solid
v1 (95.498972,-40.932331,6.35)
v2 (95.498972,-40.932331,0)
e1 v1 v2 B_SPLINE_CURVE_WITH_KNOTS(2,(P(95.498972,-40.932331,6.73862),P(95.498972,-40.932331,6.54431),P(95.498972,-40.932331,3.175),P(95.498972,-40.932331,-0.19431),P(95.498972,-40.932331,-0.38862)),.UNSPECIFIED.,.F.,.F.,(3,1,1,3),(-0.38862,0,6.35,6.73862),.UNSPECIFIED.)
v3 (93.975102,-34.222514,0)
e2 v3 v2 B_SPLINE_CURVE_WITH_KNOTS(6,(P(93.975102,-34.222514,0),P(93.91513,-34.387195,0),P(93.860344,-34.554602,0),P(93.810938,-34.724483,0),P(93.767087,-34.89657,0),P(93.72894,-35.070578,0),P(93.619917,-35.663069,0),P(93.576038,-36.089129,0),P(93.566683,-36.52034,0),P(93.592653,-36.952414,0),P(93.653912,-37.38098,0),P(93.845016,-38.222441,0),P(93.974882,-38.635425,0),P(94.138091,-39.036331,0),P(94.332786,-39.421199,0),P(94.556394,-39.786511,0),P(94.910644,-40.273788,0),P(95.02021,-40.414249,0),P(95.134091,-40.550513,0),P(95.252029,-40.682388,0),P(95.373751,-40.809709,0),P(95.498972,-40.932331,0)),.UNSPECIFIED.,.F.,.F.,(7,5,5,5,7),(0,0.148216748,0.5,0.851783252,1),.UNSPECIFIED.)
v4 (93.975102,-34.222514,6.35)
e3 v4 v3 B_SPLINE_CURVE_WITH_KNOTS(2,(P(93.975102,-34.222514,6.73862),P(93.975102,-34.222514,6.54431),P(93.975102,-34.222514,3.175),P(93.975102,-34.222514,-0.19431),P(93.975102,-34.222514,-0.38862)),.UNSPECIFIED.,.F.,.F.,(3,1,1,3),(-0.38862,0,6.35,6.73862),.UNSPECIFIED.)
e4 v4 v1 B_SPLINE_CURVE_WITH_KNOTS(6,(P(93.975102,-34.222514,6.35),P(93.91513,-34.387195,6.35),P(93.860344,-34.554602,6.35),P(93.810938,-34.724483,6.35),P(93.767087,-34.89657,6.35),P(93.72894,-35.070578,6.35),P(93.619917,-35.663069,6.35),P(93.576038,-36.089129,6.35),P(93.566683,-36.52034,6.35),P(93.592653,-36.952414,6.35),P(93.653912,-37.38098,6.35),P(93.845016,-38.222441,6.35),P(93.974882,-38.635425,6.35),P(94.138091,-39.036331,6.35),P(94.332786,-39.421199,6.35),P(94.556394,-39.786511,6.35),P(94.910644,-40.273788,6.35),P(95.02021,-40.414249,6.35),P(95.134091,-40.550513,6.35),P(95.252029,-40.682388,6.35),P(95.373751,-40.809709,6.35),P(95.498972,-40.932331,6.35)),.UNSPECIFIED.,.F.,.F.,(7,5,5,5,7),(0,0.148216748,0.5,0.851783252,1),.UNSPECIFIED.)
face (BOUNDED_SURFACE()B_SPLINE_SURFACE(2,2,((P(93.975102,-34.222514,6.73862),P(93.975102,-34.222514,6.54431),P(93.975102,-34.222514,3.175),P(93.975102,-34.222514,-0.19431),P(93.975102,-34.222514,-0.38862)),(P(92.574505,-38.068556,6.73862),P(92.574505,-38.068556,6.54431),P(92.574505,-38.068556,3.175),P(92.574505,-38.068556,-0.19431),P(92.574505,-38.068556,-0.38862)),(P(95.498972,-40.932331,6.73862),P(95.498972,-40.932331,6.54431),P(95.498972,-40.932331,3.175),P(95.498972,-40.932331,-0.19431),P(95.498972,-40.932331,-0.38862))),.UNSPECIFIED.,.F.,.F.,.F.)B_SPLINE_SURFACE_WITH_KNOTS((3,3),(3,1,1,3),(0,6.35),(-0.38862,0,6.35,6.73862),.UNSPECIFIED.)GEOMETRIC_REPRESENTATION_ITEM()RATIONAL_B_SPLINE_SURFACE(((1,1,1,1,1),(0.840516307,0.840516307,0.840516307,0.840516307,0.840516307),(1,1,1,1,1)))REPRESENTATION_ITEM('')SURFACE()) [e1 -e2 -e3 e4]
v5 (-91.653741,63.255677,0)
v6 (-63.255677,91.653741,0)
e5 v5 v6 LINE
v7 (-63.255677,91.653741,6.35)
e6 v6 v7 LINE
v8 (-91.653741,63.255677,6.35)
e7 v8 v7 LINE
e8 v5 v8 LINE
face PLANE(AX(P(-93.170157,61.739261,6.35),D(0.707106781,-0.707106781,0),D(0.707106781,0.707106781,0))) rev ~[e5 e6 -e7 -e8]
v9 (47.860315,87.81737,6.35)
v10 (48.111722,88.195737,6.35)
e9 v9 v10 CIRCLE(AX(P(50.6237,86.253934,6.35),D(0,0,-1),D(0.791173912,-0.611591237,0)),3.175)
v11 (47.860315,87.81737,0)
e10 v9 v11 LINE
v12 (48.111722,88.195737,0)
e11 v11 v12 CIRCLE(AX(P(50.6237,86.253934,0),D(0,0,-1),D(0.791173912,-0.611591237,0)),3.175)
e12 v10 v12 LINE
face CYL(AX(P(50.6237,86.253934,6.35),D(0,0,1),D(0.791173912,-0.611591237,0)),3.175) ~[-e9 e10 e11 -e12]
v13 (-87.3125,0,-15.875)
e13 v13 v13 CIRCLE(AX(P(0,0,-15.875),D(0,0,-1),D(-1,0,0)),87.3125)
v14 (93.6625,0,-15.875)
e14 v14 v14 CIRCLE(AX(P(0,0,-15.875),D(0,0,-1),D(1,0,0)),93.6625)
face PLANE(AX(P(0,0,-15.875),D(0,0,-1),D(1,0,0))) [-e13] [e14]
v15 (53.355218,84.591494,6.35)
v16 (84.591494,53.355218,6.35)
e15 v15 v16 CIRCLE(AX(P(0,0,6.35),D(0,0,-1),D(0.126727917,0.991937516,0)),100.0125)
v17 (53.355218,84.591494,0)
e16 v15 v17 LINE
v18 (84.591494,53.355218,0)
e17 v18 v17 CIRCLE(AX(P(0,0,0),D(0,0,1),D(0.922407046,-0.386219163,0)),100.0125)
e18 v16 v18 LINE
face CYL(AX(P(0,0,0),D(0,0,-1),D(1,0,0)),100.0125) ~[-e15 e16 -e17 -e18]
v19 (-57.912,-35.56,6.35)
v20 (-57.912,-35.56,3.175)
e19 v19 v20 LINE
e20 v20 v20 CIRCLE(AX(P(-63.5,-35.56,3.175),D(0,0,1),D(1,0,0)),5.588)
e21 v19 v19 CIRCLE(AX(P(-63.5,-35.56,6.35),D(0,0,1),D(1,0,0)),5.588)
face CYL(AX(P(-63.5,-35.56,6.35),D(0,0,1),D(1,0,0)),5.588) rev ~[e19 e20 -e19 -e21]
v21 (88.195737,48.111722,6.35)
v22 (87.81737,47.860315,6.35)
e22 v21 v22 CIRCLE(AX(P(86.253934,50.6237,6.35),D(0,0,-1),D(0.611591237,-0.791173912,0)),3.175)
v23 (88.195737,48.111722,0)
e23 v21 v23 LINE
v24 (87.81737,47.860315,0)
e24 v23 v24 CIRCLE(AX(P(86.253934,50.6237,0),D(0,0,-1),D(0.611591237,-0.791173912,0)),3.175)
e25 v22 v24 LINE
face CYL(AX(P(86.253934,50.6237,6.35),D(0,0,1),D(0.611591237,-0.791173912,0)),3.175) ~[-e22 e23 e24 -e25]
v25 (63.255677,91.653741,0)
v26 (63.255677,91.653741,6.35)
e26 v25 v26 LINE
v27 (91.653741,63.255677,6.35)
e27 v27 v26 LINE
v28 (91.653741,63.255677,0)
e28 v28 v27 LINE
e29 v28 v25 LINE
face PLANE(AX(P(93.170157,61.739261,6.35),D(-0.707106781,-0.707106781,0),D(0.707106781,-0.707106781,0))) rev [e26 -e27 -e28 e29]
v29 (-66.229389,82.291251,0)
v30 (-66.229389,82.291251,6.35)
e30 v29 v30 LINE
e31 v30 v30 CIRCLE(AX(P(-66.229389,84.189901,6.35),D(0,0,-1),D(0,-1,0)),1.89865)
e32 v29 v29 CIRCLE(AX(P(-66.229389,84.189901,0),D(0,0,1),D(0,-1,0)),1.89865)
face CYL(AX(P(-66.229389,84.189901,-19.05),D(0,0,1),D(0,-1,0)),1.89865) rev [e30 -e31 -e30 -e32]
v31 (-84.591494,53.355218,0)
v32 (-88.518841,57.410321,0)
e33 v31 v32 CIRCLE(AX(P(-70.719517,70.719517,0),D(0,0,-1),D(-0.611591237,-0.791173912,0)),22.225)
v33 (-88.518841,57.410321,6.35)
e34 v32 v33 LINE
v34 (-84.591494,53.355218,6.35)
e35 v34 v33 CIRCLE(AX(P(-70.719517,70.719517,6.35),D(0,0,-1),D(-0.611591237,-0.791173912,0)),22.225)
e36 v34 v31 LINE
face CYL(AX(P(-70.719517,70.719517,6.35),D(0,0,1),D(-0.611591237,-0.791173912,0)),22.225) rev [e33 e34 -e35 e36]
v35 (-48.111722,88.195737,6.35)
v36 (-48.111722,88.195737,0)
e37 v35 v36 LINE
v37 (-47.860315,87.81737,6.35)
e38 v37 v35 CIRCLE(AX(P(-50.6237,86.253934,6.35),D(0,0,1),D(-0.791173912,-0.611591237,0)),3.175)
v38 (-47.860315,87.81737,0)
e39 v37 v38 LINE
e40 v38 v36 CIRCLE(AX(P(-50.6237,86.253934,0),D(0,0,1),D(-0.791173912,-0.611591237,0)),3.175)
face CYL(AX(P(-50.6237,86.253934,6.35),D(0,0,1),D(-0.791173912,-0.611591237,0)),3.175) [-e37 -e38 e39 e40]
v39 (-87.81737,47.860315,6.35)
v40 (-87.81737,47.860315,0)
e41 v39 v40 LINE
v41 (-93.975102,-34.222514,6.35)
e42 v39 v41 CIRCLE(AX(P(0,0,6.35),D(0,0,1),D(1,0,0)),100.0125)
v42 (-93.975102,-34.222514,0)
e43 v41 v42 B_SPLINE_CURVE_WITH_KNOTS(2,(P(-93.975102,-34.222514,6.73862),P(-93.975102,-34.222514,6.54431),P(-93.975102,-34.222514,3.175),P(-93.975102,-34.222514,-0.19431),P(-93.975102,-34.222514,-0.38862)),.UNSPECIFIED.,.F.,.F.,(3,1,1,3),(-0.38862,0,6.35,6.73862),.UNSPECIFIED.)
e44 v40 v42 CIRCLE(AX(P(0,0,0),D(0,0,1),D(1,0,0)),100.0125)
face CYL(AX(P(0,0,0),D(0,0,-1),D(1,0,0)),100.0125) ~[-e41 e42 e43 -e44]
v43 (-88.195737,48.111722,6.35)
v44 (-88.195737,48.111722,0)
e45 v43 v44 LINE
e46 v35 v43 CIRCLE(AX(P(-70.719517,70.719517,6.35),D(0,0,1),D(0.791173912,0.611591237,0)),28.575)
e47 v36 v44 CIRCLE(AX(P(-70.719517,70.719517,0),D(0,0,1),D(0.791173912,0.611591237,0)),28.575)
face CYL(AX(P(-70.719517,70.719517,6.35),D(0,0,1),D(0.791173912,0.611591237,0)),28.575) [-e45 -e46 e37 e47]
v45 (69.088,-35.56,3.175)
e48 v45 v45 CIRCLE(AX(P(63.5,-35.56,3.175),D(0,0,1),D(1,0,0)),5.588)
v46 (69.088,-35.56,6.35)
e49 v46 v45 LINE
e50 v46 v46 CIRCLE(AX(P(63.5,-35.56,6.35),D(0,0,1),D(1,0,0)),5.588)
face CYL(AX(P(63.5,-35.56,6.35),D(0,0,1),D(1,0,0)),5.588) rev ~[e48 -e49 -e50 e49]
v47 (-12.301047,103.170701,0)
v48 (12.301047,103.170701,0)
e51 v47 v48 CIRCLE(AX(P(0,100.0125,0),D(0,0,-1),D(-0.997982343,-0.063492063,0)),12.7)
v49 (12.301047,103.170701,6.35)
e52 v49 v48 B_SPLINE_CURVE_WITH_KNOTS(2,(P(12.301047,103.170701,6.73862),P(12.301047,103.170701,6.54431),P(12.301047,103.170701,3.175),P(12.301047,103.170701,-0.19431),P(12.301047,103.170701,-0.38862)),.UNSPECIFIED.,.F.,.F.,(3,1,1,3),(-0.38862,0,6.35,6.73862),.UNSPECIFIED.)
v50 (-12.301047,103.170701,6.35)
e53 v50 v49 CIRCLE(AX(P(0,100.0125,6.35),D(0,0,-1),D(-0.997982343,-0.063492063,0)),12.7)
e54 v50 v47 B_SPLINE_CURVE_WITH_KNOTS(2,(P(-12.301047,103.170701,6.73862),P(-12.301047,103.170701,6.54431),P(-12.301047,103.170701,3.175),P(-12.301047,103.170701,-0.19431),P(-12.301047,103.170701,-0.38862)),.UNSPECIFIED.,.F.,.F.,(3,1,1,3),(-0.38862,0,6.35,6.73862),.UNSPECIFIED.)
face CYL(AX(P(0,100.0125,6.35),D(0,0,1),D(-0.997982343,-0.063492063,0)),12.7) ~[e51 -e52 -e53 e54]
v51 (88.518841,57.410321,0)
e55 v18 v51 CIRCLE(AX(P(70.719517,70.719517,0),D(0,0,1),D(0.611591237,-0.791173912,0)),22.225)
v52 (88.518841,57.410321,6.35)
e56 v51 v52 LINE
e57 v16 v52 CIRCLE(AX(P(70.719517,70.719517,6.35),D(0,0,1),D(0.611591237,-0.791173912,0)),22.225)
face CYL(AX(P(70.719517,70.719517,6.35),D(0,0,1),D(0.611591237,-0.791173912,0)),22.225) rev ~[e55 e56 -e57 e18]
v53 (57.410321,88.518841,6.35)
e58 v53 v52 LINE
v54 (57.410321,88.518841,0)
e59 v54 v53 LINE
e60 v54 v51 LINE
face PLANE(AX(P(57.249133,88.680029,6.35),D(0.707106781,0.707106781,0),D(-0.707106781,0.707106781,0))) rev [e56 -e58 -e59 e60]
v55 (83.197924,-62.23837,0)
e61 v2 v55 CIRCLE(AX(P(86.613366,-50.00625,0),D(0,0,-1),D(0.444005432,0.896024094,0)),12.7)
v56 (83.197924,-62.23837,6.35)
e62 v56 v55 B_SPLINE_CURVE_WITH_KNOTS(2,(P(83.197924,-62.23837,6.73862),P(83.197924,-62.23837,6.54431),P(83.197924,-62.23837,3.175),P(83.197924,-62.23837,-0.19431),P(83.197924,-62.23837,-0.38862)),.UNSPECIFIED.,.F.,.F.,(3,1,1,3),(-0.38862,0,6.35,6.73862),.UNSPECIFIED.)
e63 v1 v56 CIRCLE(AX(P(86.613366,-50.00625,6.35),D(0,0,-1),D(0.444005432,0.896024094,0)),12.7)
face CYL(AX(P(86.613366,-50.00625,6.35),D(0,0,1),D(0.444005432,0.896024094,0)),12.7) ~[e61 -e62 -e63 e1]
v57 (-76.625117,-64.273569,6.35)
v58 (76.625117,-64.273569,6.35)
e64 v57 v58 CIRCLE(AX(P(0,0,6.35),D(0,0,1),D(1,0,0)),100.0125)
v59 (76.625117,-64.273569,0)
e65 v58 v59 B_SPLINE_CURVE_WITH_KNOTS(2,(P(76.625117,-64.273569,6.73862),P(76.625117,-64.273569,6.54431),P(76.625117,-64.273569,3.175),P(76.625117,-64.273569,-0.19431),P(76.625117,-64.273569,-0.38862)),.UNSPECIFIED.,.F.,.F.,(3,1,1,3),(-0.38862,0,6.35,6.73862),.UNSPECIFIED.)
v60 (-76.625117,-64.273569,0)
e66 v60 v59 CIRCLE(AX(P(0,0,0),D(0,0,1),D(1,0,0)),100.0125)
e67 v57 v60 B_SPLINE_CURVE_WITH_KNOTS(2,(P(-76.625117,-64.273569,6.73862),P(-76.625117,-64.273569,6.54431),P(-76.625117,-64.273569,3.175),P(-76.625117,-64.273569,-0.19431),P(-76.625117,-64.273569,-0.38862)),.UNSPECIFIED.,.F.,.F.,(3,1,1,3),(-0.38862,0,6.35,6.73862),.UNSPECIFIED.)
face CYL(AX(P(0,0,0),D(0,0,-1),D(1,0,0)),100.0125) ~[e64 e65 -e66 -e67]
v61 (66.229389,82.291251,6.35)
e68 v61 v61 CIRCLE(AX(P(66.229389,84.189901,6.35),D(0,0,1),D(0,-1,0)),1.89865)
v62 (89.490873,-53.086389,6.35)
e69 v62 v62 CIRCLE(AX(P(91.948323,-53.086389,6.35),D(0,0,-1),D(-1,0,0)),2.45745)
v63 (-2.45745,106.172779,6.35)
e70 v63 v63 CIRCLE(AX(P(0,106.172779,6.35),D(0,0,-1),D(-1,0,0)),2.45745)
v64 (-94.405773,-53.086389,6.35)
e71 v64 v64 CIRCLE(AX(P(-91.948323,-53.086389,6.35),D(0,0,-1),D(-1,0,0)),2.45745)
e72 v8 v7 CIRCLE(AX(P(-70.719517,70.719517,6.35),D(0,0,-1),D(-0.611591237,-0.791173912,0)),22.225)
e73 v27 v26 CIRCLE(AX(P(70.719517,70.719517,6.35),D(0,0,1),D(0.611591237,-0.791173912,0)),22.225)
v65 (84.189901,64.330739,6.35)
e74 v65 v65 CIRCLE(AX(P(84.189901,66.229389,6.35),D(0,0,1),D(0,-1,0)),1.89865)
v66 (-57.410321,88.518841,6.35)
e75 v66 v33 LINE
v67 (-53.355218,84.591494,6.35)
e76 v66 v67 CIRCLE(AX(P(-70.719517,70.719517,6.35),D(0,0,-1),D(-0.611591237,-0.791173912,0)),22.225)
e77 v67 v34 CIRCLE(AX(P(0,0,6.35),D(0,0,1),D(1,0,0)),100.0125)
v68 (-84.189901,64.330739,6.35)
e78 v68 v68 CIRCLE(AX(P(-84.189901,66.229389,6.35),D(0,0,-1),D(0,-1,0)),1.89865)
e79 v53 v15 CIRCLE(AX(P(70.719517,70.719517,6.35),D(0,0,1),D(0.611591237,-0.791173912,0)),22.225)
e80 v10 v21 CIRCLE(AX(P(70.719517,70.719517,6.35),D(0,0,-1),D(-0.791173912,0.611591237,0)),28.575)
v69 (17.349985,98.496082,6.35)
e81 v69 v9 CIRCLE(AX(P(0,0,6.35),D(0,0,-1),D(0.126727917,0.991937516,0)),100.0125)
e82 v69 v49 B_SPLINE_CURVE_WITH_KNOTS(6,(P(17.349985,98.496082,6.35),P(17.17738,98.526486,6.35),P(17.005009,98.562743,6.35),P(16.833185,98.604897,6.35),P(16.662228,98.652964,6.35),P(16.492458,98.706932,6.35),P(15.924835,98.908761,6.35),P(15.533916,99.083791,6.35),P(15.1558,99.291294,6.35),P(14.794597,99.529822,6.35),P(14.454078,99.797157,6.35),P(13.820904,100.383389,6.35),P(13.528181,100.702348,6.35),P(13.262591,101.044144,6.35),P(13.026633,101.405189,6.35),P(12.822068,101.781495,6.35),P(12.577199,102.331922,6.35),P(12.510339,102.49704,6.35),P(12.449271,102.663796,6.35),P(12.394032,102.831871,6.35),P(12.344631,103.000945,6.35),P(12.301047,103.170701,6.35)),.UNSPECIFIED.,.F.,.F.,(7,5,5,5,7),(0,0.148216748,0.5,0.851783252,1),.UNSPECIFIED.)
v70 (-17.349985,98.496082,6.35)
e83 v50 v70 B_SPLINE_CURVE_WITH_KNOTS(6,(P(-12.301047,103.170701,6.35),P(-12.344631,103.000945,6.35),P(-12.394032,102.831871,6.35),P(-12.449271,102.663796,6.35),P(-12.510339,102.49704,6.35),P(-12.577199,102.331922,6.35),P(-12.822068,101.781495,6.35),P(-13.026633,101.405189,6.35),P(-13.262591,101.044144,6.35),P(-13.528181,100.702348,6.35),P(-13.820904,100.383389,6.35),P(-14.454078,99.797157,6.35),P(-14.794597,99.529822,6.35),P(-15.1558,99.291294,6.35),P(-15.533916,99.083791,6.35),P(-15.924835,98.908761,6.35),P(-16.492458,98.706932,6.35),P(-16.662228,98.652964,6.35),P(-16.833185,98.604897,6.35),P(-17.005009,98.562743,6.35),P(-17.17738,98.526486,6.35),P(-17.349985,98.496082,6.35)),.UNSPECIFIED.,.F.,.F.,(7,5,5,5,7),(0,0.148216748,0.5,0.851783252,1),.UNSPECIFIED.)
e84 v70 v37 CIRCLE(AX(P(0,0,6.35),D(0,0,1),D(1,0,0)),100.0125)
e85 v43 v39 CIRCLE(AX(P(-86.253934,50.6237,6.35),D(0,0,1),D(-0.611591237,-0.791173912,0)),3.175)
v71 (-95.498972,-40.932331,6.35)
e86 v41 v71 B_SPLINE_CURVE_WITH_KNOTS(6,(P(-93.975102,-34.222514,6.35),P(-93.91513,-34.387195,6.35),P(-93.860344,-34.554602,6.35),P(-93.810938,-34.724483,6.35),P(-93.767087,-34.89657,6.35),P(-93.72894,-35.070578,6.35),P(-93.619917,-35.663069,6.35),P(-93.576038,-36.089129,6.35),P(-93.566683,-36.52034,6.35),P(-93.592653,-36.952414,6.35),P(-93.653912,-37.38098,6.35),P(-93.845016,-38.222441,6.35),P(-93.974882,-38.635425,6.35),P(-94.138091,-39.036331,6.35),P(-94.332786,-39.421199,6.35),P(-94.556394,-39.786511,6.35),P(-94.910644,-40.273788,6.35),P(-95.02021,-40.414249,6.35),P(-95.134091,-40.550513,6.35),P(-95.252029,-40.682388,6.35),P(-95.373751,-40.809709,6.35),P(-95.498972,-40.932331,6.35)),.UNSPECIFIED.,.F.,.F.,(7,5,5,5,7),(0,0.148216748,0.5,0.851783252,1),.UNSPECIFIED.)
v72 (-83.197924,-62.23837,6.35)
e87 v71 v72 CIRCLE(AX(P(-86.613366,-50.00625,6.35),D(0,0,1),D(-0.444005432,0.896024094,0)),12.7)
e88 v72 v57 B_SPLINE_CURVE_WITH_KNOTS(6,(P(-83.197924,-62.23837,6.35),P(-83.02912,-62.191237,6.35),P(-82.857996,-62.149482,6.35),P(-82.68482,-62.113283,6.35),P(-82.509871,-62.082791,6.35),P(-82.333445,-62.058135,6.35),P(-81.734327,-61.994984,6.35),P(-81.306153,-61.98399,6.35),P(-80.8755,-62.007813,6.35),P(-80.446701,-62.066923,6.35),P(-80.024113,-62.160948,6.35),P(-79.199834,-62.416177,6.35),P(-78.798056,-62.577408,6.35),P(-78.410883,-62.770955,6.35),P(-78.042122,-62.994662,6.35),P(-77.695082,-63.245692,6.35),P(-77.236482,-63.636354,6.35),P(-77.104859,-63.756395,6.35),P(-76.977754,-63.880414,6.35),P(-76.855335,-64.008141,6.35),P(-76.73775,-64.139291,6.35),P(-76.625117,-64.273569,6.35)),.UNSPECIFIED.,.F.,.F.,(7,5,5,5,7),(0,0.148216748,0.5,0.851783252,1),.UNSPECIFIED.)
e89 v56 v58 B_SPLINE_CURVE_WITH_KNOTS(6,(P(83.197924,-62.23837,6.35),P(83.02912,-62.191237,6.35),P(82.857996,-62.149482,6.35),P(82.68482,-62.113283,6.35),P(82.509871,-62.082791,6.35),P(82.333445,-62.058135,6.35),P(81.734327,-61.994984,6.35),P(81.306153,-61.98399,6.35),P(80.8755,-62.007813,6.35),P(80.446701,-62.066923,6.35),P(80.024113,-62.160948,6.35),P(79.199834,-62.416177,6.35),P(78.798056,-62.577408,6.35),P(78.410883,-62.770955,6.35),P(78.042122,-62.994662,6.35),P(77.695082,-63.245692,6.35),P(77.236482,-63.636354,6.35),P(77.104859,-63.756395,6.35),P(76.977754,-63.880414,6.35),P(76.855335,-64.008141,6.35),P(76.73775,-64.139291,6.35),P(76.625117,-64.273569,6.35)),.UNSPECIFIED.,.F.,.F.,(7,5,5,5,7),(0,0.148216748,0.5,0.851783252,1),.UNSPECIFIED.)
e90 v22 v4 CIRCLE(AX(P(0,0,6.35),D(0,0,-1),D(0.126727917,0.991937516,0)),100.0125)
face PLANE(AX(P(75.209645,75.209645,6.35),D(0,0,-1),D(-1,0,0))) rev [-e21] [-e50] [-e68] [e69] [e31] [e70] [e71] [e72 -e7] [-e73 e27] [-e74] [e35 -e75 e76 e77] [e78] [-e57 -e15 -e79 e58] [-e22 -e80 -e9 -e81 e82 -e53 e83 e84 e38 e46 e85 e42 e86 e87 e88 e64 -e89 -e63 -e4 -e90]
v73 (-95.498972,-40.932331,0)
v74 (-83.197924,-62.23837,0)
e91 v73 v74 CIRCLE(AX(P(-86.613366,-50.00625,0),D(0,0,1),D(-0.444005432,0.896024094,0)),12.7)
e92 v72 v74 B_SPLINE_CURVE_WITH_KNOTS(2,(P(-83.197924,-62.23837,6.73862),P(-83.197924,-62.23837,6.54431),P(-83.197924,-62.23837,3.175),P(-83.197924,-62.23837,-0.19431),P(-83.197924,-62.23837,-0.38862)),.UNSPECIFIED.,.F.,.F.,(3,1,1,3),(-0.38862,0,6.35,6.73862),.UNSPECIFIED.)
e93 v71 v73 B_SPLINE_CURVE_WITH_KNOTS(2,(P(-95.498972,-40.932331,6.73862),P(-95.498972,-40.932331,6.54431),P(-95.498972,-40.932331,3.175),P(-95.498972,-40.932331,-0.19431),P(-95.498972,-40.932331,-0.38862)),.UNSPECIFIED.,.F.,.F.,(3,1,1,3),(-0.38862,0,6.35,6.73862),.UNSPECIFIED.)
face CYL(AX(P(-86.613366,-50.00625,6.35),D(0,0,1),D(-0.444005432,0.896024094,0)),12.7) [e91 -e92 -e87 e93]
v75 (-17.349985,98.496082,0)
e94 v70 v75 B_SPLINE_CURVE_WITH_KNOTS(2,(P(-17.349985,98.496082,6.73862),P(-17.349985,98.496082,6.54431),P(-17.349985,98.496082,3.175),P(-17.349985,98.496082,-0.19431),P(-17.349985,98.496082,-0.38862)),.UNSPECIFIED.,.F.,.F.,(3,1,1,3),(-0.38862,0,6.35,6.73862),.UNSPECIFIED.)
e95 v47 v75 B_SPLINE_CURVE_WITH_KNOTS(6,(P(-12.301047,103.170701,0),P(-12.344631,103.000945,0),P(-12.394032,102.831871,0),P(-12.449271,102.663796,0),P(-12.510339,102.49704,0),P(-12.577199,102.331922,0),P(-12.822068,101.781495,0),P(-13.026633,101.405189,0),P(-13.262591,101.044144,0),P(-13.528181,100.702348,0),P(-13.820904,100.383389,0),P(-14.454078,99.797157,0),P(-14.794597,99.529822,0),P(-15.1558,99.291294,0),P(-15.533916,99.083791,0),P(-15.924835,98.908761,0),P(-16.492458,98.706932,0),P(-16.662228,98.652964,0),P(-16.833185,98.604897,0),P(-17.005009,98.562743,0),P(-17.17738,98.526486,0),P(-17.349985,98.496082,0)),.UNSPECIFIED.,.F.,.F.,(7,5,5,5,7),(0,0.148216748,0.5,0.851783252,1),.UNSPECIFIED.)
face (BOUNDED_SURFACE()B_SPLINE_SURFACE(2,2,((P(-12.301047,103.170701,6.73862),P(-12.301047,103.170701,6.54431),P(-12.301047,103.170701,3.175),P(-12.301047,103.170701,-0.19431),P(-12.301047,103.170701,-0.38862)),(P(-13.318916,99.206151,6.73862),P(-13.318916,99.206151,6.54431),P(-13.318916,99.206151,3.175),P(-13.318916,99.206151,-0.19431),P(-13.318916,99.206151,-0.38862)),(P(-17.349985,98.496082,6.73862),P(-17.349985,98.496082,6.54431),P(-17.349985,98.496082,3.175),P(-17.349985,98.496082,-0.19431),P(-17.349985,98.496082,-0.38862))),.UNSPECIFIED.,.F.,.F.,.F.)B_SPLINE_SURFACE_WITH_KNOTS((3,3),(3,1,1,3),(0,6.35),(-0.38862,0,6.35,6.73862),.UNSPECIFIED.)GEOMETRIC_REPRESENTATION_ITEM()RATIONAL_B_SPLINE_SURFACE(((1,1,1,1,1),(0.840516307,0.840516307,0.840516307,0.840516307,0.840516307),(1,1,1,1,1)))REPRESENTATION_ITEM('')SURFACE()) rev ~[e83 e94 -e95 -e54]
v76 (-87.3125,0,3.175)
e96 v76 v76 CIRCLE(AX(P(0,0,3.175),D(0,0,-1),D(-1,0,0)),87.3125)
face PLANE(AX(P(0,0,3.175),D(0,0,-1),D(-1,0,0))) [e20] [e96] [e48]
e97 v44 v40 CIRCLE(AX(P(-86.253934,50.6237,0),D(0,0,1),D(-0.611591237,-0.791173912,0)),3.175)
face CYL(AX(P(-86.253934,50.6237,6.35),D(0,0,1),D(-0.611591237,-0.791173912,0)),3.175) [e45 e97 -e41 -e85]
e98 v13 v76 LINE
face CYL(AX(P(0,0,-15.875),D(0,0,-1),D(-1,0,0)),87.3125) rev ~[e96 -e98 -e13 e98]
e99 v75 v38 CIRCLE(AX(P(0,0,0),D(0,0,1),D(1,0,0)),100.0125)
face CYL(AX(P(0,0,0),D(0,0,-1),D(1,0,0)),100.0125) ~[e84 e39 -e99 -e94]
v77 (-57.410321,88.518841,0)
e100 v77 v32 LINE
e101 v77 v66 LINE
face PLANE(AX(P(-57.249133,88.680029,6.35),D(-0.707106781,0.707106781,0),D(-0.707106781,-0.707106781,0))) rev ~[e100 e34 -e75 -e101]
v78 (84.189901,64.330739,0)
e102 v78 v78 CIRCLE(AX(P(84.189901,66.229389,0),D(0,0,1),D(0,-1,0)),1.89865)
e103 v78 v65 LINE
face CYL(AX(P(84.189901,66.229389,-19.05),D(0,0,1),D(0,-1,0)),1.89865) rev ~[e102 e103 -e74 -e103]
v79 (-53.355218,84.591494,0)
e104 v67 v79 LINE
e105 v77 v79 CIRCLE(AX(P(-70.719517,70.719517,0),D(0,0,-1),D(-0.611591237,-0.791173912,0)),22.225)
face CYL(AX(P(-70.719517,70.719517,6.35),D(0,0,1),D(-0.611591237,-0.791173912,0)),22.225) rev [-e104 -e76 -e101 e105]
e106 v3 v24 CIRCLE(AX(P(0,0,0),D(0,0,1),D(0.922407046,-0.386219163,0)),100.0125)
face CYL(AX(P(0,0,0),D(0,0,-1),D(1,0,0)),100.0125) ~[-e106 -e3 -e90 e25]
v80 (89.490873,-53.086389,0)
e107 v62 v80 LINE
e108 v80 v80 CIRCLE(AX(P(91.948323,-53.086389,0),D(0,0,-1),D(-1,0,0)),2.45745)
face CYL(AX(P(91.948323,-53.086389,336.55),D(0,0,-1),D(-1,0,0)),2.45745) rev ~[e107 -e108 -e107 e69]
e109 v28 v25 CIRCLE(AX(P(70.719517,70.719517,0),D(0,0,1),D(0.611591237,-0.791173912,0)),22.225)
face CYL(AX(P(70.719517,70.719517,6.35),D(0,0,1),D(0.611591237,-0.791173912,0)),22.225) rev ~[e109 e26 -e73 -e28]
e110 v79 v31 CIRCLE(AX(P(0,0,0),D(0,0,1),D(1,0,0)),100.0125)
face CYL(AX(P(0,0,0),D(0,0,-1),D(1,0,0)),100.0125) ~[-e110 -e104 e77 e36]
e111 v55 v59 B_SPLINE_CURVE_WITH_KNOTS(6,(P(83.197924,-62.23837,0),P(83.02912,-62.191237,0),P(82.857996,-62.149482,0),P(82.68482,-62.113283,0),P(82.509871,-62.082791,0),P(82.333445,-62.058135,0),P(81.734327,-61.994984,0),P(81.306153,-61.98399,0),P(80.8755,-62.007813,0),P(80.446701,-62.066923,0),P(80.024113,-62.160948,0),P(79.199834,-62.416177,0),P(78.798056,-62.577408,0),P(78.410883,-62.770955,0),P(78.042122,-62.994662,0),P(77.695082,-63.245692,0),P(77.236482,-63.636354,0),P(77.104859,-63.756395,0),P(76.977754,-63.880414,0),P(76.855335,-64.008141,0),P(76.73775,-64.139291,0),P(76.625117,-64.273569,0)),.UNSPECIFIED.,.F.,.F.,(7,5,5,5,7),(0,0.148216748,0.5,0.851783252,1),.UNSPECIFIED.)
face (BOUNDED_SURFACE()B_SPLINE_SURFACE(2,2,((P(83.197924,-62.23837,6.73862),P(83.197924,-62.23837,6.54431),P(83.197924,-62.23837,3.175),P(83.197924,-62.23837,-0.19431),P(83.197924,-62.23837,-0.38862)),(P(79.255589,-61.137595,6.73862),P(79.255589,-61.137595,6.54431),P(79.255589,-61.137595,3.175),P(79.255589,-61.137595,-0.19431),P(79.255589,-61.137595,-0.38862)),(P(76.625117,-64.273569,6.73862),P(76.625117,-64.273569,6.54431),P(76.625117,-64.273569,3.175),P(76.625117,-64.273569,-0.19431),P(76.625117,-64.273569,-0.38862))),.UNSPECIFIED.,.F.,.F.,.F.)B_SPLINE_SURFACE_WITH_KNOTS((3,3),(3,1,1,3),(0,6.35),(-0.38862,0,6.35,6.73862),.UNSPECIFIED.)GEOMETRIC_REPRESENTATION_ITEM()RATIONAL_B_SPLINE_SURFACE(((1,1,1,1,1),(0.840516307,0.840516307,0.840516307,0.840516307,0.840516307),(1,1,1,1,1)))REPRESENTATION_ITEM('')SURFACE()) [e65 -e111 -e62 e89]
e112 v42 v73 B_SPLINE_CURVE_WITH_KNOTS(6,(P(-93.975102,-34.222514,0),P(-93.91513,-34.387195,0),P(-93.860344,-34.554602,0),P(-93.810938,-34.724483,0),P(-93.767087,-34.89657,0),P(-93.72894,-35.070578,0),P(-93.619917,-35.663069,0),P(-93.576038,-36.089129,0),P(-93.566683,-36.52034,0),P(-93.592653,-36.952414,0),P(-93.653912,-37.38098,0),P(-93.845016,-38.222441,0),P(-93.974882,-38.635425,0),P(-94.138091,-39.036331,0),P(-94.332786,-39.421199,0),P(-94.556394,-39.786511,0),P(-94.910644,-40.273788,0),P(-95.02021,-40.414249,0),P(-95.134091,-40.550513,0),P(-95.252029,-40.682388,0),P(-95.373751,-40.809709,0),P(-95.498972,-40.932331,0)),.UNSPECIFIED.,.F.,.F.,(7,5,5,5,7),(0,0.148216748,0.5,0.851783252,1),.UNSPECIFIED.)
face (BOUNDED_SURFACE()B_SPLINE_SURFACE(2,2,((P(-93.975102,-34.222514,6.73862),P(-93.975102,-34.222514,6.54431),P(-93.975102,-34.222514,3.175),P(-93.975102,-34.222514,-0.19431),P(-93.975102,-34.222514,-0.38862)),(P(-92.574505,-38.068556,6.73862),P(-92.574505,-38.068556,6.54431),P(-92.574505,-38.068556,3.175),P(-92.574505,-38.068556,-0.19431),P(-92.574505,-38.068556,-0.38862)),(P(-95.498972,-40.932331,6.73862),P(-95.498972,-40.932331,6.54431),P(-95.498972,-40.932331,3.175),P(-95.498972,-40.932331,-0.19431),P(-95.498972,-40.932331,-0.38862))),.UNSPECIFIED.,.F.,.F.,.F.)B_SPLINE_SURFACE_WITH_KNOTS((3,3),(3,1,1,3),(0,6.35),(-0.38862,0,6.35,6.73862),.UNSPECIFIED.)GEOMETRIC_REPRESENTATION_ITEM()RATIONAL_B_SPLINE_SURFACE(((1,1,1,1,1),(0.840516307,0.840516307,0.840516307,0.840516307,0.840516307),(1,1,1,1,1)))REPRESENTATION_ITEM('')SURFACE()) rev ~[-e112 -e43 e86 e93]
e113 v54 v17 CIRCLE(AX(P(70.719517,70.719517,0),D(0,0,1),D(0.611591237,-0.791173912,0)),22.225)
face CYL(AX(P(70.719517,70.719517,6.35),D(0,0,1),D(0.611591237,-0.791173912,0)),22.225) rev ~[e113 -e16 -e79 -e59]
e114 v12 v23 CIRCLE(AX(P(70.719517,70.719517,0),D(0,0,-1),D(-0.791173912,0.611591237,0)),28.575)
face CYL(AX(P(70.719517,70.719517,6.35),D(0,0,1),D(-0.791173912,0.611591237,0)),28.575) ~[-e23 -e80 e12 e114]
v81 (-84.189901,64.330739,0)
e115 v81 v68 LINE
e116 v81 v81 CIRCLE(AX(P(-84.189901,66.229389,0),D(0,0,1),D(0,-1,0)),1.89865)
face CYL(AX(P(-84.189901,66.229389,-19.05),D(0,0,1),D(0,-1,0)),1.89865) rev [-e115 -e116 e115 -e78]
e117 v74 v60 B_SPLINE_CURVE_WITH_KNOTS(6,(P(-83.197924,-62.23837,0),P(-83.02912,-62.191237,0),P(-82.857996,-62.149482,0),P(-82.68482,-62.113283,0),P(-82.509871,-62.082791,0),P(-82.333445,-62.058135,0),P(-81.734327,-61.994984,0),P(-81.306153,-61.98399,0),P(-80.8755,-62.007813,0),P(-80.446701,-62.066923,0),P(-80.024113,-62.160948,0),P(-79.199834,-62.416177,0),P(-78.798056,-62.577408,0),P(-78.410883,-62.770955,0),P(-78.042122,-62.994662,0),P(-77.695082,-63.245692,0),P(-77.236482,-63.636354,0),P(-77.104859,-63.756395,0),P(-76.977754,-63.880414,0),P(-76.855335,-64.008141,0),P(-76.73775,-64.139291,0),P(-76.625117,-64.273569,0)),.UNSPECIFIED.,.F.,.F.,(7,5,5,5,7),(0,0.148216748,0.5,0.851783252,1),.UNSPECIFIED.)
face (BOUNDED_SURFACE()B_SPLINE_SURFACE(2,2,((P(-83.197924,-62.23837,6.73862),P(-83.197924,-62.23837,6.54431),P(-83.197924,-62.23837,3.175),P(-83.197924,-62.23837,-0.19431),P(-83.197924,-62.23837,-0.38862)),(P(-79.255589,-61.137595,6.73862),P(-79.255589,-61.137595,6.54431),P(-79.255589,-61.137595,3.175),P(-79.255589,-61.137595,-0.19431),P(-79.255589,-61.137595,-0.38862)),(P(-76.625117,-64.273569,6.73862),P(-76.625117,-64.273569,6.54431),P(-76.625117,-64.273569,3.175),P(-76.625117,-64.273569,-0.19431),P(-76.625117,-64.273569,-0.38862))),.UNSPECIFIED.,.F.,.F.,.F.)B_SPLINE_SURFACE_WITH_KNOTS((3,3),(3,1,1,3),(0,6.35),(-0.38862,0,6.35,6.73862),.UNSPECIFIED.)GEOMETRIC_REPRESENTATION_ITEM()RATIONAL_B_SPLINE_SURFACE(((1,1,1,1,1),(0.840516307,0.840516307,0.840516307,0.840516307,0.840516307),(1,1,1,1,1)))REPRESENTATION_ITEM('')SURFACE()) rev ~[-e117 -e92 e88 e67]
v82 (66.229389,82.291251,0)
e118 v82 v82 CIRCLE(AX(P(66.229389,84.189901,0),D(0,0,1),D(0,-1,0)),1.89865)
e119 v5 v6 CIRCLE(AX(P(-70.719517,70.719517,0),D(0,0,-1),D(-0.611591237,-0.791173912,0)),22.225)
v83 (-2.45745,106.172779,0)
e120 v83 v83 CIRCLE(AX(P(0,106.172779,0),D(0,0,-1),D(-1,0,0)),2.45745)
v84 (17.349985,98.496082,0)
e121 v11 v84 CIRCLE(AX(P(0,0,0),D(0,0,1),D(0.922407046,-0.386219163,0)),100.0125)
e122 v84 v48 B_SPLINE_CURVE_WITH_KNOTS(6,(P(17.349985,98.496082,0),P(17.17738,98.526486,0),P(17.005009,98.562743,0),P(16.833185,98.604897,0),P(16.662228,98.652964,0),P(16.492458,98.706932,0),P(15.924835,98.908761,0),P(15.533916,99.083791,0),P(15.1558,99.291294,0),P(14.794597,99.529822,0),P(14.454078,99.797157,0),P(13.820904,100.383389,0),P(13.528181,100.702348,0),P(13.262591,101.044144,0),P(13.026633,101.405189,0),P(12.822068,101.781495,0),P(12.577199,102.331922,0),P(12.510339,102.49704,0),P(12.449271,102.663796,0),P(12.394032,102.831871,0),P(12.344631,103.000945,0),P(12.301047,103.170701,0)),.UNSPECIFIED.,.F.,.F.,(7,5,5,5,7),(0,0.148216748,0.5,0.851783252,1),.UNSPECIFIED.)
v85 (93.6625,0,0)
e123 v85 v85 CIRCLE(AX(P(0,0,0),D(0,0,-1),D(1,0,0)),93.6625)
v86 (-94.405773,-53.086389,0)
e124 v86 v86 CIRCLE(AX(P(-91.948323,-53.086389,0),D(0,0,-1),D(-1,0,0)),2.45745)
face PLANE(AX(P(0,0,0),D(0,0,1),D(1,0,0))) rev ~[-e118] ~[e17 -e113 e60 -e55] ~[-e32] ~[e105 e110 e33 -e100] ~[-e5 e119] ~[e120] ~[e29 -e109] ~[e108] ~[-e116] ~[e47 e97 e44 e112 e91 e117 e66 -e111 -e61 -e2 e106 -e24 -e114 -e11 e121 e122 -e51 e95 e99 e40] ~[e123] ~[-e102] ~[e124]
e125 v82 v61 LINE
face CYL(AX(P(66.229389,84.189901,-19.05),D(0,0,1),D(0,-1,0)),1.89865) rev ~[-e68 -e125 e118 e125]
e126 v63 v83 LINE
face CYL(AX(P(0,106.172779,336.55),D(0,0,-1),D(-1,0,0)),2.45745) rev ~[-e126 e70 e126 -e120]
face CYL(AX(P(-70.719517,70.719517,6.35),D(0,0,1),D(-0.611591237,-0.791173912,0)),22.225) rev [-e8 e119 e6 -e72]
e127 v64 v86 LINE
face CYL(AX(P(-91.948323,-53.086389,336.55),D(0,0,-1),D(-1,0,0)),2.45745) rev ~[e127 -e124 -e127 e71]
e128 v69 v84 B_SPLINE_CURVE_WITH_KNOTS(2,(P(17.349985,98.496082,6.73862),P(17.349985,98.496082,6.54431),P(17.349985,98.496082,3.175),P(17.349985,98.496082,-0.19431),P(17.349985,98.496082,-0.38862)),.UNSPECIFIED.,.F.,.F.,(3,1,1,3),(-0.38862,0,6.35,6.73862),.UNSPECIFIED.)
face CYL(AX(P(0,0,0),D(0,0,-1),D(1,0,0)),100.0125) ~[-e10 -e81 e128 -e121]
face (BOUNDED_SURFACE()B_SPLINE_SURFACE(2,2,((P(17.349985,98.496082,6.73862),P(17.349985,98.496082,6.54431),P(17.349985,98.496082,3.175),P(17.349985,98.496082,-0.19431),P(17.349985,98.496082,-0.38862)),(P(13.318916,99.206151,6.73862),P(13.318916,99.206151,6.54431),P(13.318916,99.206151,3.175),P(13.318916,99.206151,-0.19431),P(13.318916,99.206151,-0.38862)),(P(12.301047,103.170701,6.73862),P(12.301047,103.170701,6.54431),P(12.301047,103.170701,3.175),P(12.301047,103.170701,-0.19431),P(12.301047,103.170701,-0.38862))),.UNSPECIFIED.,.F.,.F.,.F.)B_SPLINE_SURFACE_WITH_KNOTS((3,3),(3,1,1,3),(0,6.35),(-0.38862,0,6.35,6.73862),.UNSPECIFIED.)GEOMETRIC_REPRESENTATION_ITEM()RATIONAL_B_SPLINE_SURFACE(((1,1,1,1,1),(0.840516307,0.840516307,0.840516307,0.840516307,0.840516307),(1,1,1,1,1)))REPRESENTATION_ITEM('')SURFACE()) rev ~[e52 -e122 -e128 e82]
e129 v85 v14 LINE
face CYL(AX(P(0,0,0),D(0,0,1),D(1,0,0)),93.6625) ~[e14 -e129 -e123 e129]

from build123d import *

# Parameters (mm, degrees)
SKETCH1_R                        = 100.0125
EXTRUDE1_DEPTH                   = 6.35
SKETCH2_R                        = 93.6625
EXTRUDE2_DEPTH                   = 15.875
SKETCH3_R                        = 87.3125
CUT_EXTRUDE1_DEPTH               = 19.05
EXTRUDE3_DEPTH                   = 6.35
SKETCH5_R                        = 5.588
CUT_EXTRUDE2_DEPTH               = 153.317295267
F_10_0_1935_DIAMETER_HOLE1_D     = 4.9149
F_10_0_1935_DIAMETER_HOLE1_DEPTH = 330.2
F_10_0_1935_DIAMETER_HOLE1_TIP   = 1.476584928
FILLET1_R                        = 6.35
BOSS_EXTRUDE1_DEPTH              = 6.35
BOSS_EXTRUDE2_DEPTH              = 6.35
F_6_CLEARANCE_HOLE1_AT_2_COUNT   = 2
F_6_CLEARANCE_HOLE1_AT_2_PITCH   = 25.4


with BuildPart() as part:
    # Sketch1 → Extrude1 (new body)
    with BuildSketch(Plane.XY):
        Circle(SKETCH1_R)
    extrude(amount=EXTRUDE1_DEPTH)

    # Sketch2 → Extrude2 (add)
    with BuildSketch(Plane(origin=(0, 0, 0), x_dir=(-1, 0, 0), z_dir=(0, 0, -1))):
        with Locations(Location((0, 0, 0), (0, 0, 180))):
            Circle(SKETCH2_R)
    extrude(amount=EXTRUDE2_DEPTH)

    # Sketch3 → Cut-Extrude1 (cut)
    with BuildSketch(Plane(origin=(0, 0, -15.875), x_dir=(-1, 0, 0), z_dir=(0, 0, -1))):
        Circle(SKETCH3_R)
    extrude(amount=-CUT_EXTRUDE1_DEPTH, mode=Mode.SUBTRACT)

    # Sketch8 → Extrude3 (add)
    with BuildSketch(Plane.XY.offset(6.35)):
        with BuildLine():
            ThreePointArc((-12.674375762, 99.206150794), (0, 112.7125), (12.674375762, 99.206150794))
            ThreePointArc((12.674375762, 99.206150794), (0, 100.0125), (-12.674375762, 99.206150794))
        make_face()
        with BuildLine():
            ThreePointArc((92.25223468, -38.62674401), (97.611888324, -56.35625), (79.577858918, -60.579406784))
            ThreePointArc((79.577858918, -60.579406784), (86.613365696, -50.00625), (92.25223468, -38.62674401))
        make_face()
        with BuildLine():
            ThreePointArc((-92.25223468, -38.62674401), (-97.611888324, -56.35625), (-79.577858918, -60.579406784))
            ThreePointArc((-79.577858918, -60.579406784), (-86.613365696, -50.00625), (-92.25223468, -38.62674401))
        make_face()
    extrude(amount=-EXTRUDE3_DEPTH)

    # Sketch5 → Cut-Extrude2 (cut, through all)
    with BuildSketch(Plane.XY.offset(6.35)):
        with Locations((-63.5, -35.56)):
            Circle(SKETCH5_R)
        with Locations((63.5, -35.56)):
            Circle(SKETCH5_R)
    extrude(amount=-CUT_EXTRUDE2_DEPTH, mode=Mode.SUBTRACT)

    # #10 (0.1935) Diameter Hole1
    with Locations(Plane(origin=(0, 106.172778556, 6.35), x_dir=(1, 0, 0), z_dir=(0, 0, 1))):
        with Locations((0, 0), (91.94832342, -159.259167834), (-91.94832342, -159.259167834)):
            Hole(F_10_0_1935_DIAMETER_HOLE1_D / 2, depth=F_10_0_1935_DIAMETER_HOLE1_DEPTH)
            with Locations((0, 0, -(F_10_0_1935_DIAMETER_HOLE1_DEPTH + F_10_0_1935_DIAMETER_HOLE1_TIP / 2))):  # 118° drill point
                Cone(0, F_10_0_1935_DIAMETER_HOLE1_D / 2, F_10_0_1935_DIAMETER_HOLE1_TIP, mode=Mode.SUBTRACT)

    # Fillet1
    fillet1_edges = [part.edges().sort_by_distance(p)[0] for p in [
        (12.674375762, 99.206150794, 3.175),
        (-12.674375762, 99.206150794, 3.175),
        (79.577858918, -60.579406784, 3.175),
        (92.25223468, -38.62674401, 3.175),
        (-92.25223468, -38.62674401, 3.175),
        (-79.577858918, -60.579406784, 3.175),
    ]]
    fillet(fillet1_edges, radius=FILLET1_R)

    # Sketch25 → Boss-Extrude1 (add)
    with BuildSketch(Plane.XY.offset(6.35)):
        with BuildLine():
            ThreePointArc((-84.312132199, 53.135676765), (-86.434965165, 86.434965165), (-53.135676765, 84.312132199))
            ThreePointArc((-53.135676765, 84.312132199), (-48.681897417, 83.741957207), (-48.111722425, 88.195736555))
            ThreePointArc((-48.111722425, 88.195736555), (-90.925093226, 90.925093226), (-88.195736555, 48.111722425))
            ThreePointArc((-88.195736555, 48.111722425), (-83.741957207, 48.681897417), (-84.312132199, 53.135676765))
        make_face()
    boss_extrude1 = extrude(amount=-BOSS_EXTRUDE1_DEPTH)

    # Sketch26 → Boss-Extrude2 (add)
    with BuildSketch(Plane.XY.offset(6.35)):
        Polygon((-93.170157256, 61.739260832), (-61.739260832, 93.170157256), (-57.249132772, 88.680029196), (-88.680029196, 57.249132772), align=None)
    boss_extrude2 = extrude(amount=-BOSS_EXTRUDE2_DEPTH)

    # Sketch27 → #6 Clearance Hole1 (revolve, cut)
    with BuildSketch(Plane(origin=(-84.189901135, 66.229388893, 6.35), x_dir=(0, -1, 0), z_dir=(1, 0, 0))):
        Polygon((0, 0), (0, 26.540824014), (1.89865, 25.4), (1.89865, 0), align=None)
    f_6_clearance_hole1 = revolve(axis=Axis((-84.189901135, 66.229388893, 12.7), (0, 0, -1)), mode=Mode.SUBTRACT)

    # #6 Clearance Hole1 at 2: #6 Clearance Hole1 ×2
    with Locations(*[Vector(0.7071067811865465, 0.7071067811865487, 0) * (i * F_6_CLEARANCE_HOLE1_AT_2_PITCH) for i in range(1, F_6_CLEARANCE_HOLE1_AT_2_COUNT)]):
        add(f_6_clearance_hole1, mode=Mode.SUBTRACT)

    # Mirror1: Boss-Extrude1, Boss-Extrude2, #6 Clearance Hole1 across plane
    add(boss_extrude1.mirror(Plane(origin=(0, 0, 0), x_dir=(0, 0, 1), z_dir=(1, 0, 0))))
    add(boss_extrude2.mirror(Plane(origin=(0, 0, 0), x_dir=(0, 0, 1), z_dir=(1, 0, 0))))
    add(f_6_clearance_hole1.mirror(Plane(origin=(0, 0, 0), x_dir=(0, 0, 1), z_dir=(1, 0, 0))), mode=Mode.SUBTRACT)

    # Mirror1 copy 1 sketch → Mirror1 copy 1 (revolve, cut)
    with BuildSketch(Plane(origin=(66.229388893, 84.189901135, 6.35), x_dir=(0, -1, 0), z_dir=(-1, 0, 0))):
        Polygon((0, 0), (0, -26.540824014), (1.89865, -25.4), (1.89865, 0), align=None)
    revolve(axis=Axis((66.229388893, 84.189901135, 12.7), (0, 0, 1)), mode=Mode.SUBTRACT)


solid = part.part
